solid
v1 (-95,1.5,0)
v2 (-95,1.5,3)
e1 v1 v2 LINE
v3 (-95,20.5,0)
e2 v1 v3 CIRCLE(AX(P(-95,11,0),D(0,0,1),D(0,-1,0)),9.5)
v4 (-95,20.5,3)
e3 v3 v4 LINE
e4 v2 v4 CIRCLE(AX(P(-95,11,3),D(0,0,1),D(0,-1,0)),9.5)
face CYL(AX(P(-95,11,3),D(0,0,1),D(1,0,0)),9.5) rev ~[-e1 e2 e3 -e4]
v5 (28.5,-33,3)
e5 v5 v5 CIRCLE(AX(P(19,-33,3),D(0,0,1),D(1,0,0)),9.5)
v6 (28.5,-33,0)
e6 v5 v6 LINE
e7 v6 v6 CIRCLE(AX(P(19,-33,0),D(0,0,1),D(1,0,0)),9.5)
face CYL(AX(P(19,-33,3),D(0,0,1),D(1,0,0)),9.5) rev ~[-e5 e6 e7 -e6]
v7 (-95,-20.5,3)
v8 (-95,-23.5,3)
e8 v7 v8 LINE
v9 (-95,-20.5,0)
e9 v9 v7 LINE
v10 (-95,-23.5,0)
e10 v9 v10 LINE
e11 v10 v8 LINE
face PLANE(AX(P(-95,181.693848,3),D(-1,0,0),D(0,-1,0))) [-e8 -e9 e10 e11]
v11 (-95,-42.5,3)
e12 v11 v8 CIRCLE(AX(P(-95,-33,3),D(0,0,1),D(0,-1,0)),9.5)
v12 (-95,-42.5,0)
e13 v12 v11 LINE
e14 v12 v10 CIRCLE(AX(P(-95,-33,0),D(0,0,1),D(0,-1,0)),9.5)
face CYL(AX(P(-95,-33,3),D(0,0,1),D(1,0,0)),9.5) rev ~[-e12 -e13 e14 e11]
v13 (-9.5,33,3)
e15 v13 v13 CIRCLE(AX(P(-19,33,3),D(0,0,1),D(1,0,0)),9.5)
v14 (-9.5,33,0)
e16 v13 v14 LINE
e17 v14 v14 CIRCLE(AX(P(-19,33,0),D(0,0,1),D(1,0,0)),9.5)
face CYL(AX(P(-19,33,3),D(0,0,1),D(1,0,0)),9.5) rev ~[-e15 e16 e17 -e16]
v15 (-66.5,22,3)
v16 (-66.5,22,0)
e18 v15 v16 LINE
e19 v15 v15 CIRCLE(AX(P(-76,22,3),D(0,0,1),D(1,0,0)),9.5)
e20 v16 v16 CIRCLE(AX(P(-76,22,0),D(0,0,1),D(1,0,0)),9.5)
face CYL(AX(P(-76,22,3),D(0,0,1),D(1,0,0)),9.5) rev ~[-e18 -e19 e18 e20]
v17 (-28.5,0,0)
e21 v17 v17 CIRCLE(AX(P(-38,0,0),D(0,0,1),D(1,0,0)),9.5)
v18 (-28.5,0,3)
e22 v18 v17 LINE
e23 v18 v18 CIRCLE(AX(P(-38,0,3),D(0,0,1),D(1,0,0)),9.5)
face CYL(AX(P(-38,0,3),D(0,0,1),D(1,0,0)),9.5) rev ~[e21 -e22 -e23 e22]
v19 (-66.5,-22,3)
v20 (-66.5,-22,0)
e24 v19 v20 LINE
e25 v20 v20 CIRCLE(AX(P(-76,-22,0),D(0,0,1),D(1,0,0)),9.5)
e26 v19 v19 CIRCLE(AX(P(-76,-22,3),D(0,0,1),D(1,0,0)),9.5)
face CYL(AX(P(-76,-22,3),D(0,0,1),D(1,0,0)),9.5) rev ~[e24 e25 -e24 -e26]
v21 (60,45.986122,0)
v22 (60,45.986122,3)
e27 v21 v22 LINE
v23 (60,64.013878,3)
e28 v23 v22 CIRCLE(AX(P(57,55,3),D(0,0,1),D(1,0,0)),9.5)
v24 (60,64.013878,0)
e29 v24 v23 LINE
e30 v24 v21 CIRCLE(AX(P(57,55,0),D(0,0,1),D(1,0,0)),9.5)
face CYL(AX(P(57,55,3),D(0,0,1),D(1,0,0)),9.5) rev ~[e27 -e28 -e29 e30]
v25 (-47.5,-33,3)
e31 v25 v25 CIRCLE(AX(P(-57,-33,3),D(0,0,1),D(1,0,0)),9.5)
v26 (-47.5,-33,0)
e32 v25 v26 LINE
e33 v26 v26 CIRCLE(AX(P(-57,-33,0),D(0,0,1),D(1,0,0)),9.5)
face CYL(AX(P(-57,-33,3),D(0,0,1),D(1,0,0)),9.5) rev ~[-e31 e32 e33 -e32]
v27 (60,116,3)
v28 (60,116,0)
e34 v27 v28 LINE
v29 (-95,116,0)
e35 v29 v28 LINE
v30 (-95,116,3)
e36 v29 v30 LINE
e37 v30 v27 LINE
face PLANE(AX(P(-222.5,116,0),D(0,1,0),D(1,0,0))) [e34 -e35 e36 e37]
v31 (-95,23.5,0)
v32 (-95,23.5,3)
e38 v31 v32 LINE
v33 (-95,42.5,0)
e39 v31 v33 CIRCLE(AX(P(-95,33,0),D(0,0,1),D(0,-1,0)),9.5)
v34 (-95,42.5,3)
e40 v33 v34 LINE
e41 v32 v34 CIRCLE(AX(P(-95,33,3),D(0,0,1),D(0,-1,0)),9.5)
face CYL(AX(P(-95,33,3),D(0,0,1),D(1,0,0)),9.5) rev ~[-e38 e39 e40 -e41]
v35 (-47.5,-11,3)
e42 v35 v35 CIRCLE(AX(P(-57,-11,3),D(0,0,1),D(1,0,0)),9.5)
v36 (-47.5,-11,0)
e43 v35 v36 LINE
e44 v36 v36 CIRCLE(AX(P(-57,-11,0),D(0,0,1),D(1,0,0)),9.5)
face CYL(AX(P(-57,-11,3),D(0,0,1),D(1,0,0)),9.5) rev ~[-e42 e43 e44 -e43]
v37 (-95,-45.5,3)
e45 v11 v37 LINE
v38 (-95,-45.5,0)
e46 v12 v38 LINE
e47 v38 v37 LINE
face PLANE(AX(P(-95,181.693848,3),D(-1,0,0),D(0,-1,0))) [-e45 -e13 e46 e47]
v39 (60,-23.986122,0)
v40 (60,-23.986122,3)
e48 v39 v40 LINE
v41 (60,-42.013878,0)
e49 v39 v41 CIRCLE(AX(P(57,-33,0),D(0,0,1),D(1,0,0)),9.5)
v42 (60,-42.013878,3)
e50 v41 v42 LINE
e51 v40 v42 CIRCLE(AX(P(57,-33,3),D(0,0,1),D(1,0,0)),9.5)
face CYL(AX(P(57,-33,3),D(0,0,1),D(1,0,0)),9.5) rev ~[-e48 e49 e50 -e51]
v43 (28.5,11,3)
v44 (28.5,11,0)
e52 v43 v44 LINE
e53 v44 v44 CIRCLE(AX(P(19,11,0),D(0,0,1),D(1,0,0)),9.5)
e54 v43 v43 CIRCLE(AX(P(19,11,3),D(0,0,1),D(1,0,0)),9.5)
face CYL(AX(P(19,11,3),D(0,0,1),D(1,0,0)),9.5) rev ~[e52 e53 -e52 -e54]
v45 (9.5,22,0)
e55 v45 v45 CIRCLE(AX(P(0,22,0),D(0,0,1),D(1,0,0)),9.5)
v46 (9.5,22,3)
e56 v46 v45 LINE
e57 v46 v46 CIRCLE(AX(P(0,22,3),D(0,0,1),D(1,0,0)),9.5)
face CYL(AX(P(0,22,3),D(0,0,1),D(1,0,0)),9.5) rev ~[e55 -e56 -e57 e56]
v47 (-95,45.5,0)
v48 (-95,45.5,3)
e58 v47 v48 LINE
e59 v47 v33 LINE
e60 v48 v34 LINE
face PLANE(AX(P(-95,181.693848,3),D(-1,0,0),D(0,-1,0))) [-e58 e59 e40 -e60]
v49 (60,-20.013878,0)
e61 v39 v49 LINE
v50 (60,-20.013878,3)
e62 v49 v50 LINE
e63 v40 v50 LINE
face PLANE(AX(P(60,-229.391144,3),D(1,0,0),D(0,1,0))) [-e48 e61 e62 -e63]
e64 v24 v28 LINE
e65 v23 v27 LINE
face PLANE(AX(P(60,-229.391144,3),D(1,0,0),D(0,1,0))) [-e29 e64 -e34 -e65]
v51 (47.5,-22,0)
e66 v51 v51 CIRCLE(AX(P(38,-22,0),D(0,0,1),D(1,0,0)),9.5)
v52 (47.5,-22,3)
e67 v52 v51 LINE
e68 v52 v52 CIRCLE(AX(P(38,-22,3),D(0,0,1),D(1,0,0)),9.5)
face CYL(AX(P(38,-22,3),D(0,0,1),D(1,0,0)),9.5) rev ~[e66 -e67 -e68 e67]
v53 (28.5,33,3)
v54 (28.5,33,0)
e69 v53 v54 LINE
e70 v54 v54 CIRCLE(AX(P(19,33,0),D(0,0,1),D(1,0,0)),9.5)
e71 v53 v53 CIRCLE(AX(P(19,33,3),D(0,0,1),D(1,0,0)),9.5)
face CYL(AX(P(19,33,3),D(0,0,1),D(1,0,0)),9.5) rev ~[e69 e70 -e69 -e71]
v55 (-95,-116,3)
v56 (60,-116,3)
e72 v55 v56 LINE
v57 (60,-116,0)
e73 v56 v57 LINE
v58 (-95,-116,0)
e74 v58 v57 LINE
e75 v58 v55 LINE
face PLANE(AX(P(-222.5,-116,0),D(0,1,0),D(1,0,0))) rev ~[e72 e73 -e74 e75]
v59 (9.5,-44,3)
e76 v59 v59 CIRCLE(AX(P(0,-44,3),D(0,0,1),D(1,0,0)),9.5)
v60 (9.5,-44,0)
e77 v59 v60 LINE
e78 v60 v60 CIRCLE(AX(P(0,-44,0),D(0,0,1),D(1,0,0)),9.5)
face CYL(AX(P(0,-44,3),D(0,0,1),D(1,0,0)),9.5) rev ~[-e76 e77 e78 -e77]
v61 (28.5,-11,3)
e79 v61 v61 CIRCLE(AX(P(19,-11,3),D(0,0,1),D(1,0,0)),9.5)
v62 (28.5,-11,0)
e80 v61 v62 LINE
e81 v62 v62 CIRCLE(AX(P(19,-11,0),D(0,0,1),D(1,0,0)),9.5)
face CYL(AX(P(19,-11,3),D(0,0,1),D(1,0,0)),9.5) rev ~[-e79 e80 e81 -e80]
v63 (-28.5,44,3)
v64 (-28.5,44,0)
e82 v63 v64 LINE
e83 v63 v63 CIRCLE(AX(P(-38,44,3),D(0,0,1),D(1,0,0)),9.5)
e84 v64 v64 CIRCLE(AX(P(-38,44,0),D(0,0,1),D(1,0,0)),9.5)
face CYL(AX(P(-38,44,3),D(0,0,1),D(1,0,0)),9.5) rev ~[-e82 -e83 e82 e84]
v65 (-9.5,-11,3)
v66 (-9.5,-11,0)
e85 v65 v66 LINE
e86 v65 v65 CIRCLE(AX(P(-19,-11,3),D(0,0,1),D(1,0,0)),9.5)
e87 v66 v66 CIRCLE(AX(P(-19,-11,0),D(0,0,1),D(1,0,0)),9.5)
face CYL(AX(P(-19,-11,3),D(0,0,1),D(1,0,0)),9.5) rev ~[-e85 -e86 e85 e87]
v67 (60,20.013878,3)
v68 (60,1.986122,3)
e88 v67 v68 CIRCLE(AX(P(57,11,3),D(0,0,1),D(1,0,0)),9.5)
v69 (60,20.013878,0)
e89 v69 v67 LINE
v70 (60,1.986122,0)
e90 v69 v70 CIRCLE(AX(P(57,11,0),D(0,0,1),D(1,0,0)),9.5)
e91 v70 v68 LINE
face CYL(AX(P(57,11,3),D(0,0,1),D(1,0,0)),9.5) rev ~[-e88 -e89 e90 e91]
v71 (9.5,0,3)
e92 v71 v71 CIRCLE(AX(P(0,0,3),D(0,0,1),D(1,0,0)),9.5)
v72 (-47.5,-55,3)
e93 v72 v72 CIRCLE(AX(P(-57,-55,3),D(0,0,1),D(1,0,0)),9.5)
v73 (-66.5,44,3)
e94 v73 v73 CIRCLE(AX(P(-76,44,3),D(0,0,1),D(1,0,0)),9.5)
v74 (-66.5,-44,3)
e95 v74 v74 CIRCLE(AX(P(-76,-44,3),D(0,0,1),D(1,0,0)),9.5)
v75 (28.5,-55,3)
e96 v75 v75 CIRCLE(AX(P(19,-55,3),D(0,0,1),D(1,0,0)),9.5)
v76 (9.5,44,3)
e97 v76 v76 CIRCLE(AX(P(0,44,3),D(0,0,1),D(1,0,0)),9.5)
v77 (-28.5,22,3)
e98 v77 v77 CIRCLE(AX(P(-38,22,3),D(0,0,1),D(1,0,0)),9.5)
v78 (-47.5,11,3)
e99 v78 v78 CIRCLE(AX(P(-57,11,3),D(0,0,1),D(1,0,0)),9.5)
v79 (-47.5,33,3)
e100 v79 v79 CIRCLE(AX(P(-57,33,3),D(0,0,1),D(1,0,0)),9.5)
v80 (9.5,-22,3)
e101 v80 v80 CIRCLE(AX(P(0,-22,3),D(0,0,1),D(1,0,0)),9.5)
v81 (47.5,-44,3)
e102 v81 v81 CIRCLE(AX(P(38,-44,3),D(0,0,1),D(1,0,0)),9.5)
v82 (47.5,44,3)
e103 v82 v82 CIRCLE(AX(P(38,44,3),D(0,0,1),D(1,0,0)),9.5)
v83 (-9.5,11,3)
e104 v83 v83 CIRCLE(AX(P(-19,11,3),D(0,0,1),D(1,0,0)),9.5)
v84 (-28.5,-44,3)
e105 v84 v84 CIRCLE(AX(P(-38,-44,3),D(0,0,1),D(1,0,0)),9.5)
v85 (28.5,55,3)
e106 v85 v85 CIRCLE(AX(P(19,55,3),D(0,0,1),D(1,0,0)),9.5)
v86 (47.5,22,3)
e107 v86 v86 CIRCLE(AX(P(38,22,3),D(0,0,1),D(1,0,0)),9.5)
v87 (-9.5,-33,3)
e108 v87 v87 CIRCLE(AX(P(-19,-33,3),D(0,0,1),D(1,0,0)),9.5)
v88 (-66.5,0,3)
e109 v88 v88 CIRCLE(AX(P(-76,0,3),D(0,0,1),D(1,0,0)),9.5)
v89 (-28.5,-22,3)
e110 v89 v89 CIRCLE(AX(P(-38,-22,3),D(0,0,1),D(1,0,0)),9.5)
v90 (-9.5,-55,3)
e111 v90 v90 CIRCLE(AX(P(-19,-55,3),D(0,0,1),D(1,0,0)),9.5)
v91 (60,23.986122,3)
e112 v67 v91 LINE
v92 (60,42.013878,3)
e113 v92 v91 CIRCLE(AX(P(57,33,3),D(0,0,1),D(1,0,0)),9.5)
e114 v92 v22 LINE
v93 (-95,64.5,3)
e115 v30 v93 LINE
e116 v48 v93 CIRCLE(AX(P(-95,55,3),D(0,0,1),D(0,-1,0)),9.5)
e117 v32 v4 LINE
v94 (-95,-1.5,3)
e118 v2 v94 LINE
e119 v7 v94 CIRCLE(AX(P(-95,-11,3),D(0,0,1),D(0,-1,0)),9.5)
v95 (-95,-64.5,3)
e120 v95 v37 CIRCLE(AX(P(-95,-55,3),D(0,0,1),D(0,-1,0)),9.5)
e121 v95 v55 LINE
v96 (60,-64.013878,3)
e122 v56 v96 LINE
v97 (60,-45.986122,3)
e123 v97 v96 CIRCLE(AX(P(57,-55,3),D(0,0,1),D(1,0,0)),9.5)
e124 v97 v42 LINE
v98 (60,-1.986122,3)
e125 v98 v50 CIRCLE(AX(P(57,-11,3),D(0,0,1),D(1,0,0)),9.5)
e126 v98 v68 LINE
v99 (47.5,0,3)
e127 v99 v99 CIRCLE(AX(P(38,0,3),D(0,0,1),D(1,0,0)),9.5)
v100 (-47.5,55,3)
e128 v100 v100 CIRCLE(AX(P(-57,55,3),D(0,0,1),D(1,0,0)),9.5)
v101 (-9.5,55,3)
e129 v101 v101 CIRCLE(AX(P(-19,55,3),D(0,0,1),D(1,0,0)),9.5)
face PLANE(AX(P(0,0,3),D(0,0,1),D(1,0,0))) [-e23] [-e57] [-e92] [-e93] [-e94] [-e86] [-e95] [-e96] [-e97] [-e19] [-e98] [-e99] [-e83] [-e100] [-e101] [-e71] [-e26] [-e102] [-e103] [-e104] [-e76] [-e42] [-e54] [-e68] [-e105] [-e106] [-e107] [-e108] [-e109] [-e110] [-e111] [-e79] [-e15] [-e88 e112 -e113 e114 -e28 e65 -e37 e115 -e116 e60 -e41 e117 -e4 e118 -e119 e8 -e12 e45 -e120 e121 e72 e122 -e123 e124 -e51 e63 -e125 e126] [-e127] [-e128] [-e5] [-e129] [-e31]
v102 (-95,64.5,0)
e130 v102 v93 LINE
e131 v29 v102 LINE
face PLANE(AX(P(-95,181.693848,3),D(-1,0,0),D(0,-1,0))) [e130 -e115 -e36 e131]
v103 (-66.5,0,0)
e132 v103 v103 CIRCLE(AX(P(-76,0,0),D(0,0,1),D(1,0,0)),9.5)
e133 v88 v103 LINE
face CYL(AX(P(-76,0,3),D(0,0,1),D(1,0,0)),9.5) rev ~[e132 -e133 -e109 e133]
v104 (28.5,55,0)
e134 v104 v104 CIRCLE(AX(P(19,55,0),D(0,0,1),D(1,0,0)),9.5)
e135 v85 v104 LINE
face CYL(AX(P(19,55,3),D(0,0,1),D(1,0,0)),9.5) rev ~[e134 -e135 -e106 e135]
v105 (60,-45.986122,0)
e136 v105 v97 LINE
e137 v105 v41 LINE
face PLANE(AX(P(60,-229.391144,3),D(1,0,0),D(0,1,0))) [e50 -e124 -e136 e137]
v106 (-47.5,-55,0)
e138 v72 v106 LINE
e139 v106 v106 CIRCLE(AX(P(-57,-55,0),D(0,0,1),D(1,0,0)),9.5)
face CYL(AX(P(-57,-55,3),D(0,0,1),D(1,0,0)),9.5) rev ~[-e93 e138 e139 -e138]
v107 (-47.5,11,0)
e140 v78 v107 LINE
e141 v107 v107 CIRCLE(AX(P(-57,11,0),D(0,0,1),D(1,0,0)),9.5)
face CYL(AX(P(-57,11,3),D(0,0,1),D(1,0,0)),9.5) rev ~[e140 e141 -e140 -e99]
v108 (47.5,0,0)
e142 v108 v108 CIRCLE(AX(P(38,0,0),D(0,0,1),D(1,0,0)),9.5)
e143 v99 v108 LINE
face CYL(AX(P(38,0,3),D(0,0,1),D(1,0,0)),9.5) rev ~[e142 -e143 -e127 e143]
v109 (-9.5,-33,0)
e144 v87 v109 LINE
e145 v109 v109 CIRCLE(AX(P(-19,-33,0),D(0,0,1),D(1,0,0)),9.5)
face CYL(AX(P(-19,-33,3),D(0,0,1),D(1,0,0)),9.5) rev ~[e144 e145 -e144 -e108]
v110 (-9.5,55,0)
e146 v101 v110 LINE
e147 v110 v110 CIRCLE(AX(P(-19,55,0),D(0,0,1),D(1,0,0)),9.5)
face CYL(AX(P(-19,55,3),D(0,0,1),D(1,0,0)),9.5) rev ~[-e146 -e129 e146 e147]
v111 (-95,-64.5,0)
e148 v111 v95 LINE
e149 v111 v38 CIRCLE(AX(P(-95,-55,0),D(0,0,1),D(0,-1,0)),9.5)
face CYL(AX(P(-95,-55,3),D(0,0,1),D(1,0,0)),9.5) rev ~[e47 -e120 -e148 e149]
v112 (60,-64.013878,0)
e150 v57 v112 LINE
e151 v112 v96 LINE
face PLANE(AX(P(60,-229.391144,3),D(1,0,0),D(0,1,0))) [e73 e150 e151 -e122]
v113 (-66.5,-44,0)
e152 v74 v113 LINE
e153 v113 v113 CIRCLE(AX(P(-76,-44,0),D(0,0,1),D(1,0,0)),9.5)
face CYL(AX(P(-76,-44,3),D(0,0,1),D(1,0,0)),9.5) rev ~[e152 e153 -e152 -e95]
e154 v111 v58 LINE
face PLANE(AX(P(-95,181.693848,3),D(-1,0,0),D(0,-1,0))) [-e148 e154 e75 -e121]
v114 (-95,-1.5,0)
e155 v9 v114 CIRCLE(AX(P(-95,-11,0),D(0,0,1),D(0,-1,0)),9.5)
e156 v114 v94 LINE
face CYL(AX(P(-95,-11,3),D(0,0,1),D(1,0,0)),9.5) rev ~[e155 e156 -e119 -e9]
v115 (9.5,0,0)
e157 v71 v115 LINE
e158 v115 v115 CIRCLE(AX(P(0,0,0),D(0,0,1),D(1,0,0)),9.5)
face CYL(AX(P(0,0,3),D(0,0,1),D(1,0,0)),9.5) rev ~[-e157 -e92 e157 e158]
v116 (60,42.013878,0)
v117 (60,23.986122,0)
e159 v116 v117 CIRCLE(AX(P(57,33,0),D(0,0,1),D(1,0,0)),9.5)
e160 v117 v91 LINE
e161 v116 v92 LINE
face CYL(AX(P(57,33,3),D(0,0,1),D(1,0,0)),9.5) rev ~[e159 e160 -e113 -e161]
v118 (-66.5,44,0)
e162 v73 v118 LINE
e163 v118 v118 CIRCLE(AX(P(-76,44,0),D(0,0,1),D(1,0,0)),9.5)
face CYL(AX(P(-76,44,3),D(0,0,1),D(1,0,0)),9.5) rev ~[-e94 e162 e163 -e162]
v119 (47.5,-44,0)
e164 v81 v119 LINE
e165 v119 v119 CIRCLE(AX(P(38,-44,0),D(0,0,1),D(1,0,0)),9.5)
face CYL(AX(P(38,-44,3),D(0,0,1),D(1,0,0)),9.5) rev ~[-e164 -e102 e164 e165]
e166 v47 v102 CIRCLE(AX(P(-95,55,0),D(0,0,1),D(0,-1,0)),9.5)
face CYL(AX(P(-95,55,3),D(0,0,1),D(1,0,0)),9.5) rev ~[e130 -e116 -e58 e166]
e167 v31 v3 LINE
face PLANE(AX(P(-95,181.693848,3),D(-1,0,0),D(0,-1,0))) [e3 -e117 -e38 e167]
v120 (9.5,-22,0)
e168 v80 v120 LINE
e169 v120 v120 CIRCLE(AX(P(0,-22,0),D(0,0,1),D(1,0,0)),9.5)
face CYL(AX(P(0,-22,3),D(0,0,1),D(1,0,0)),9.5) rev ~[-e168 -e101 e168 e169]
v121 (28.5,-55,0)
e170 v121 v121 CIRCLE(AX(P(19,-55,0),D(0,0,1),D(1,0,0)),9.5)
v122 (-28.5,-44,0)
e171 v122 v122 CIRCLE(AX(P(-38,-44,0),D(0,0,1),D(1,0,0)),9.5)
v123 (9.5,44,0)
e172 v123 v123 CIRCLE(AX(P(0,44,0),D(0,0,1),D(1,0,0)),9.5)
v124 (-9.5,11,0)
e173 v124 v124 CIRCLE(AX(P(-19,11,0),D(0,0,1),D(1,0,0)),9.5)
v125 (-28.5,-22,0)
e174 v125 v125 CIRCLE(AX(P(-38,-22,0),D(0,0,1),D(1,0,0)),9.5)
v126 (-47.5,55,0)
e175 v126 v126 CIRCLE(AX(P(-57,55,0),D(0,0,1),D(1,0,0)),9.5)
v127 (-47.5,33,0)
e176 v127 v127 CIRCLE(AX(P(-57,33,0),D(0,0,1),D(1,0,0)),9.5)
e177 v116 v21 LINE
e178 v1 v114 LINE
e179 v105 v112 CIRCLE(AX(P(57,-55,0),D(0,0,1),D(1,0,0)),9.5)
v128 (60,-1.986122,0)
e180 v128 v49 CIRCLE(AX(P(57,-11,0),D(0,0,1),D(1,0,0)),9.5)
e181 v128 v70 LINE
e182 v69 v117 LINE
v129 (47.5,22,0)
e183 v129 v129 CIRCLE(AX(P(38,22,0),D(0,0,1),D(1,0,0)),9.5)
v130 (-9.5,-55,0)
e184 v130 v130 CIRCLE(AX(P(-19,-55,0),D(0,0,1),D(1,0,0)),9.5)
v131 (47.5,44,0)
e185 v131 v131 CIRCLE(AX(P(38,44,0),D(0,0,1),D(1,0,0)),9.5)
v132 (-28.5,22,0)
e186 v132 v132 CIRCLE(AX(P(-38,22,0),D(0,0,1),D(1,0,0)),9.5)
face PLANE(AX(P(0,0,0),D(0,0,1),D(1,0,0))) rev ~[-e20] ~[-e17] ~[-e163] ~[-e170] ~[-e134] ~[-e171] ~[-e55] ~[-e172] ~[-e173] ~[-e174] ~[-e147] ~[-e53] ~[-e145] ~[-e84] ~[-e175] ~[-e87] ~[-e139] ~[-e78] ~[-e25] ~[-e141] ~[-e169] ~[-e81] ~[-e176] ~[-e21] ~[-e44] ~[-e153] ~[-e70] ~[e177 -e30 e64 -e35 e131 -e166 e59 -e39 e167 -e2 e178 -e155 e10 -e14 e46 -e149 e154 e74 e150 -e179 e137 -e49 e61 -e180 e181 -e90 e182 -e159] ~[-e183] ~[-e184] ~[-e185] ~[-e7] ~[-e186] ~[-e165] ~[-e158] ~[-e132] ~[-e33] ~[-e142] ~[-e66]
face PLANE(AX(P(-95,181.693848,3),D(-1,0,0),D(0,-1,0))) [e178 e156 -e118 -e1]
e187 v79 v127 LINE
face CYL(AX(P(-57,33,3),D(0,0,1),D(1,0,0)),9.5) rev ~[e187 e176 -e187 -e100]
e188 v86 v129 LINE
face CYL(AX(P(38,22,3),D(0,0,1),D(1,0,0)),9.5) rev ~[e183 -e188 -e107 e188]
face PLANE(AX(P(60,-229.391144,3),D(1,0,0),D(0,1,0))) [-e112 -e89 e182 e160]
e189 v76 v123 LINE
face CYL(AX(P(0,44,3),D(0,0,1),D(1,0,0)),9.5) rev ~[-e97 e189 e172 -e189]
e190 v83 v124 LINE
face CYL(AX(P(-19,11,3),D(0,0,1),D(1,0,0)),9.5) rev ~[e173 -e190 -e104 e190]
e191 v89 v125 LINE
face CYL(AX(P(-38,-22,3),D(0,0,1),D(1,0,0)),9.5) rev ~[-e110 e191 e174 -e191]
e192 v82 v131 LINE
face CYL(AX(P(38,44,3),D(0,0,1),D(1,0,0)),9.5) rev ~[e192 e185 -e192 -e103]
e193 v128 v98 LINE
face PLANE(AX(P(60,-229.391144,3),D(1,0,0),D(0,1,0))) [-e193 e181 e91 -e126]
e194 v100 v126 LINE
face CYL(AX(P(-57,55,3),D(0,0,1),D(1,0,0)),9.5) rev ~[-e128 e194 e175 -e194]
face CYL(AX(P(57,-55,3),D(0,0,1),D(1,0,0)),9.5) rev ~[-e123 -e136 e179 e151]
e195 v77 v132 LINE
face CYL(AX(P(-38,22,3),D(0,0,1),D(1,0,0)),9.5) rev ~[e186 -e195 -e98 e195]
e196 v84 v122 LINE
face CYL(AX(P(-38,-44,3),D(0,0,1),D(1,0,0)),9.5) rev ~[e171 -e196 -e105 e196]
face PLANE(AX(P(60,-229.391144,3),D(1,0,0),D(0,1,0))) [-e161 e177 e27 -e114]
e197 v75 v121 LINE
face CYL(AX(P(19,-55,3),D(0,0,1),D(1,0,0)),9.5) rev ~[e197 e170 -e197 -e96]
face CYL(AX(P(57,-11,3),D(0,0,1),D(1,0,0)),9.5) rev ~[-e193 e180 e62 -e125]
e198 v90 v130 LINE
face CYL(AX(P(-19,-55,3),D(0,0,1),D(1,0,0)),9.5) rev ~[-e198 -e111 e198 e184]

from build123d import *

# Parameters (mm, degrees)
SKETCH061_W     = 445
SKETCH061_H     = 232
PAD023_DEPTH    = 3
SKETCH062_R     = 9.5
POCKET038_DEPTH = 5
FILLET008_R     = 2
SKETCH063_R     = 7
POCKET039_DEPTH = 10.001
POCKET052_DEPTH = 5


with BuildPart() as part:
    # Sketch061 → Pad023 (new body)
    with BuildSketch(Plane.XY):
        Rectangle(SKETCH061_W, SKETCH061_H)
    extrude(amount=PAD023_DEPTH)

    # Sketch062 (on Face6 of Pad023) → Pocket038 (cut)
    with BuildSketch(Plane.XY.offset(3)):
        with Locations((-171, 55)):
            Circle(SKETCH062_R)
        with Locations((-171, 33)):
            Circle(SKETCH062_R)
        with Locations((-171, 11)):
            Circle(SKETCH062_R)
        with Locations((-171, -11)):
            Circle(SKETCH062_R)
        with Locations((-171, -33)):
            Circle(SKETCH062_R)
        with Locations((-171, -55)):
            Circle(SKETCH062_R)
        with Locations((-152, 44)):
            Circle(SKETCH062_R)
        with Locations((-152, 22)):
            Circle(SKETCH062_R)
        with Locations((-152, 0)):
            Circle(SKETCH062_R)
        with Locations((-152, -22)):
            Circle(SKETCH062_R)
        with Locations((-152, -44)):
            Circle(SKETCH062_R)
        with Locations((-133, 55)):
            Circle(SKETCH062_R)
        with Locations((-133, 33)):
            Circle(SKETCH062_R)
        with Locations((-133, 11)):
            Circle(SKETCH062_R)
        with Locations((-133, -11)):
            Circle(SKETCH062_R)
        with Locations((-133, -33)):
            Circle(SKETCH062_R)
        with Locations((-133, -55)):
            Circle(SKETCH062_R)
        with Locations((-114, 44)):
            Circle(SKETCH062_R)
        with Locations((-114, 22)):
            Circle(SKETCH062_R)
        with Locations((-114, 0)):
            Circle(SKETCH062_R)
        with Locations((-114, -22)):
            Circle(SKETCH062_R)
        with Locations((-114, -44)):
            Circle(SKETCH062_R)
        with Locations((-95, 55)):
            Circle(SKETCH062_R)
        with Locations((-95, 33)):
            Circle(SKETCH062_R)
        with Locations((-95, 11)):
            Circle(SKETCH062_R)
        with Locations((-95, -11)):
            Circle(SKETCH062_R)
        with Locations((-95, -33)):
            Circle(SKETCH062_R)
        with Locations((-95, -55)):
            Circle(SKETCH062_R)
        with Locations((-76, -44)):
            Circle(SKETCH062_R)
        with Locations((-76, -22)):
            Circle(SKETCH062_R)
        with Locations((-76, 0)):
            Circle(SKETCH062_R)
        with Locations((-76, 22)):
            Circle(SKETCH062_R)
        with Locations((-76, 44)):
            Circle(SKETCH062_R)
        with Locations((-57, 55)):
            Circle(SKETCH062_R)
        with Locations((-57, 33)):
            Circle(SKETCH062_R)
        with Locations((-57, 11)):
            Circle(SKETCH062_R)
        with Locations((-57, -11)):
            Circle(SKETCH062_R)
        with Locations((-57, -33)):
            Circle(SKETCH062_R)
        with Locations((-38, 44)):
            Circle(SKETCH062_R)
        with Locations((-38, 22)):
            Circle(SKETCH062_R)
        with Locations((-38, 0)):
            Circle(SKETCH062_R)
        with Locations((-38, -22)):
            Circle(SKETCH062_R)
        with Locations((-38, -44)):
            Circle(SKETCH062_R)
        with Locations((-57, -55)):
            Circle(SKETCH062_R)
        with Locations((-19, 55)):
            Circle(SKETCH062_R)
        with Locations((-19, 33)):
            Circle(SKETCH062_R)
        with Locations((-19, 11)):
            Circle(SKETCH062_R)
        with Locations((-19, -11)):
            Circle(SKETCH062_R)
        with Locations((-19, -33)):
            Circle(SKETCH062_R)
        with Locations((-19, -55)):
            Circle(SKETCH062_R)
        with Locations((0, -44)):
            Circle(SKETCH062_R)
        with Locations((0, -22)):
            Circle(SKETCH062_R)
        Circle(SKETCH062_R)
        with Locations((0, 22)):
            Circle(SKETCH062_R)
        with Locations((0, 44)):
            Circle(SKETCH062_R)
        with Locations((19, 55)):
            Circle(SKETCH062_R)
        with Locations((19, 33)):
            Circle(SKETCH062_R)
        with Locations((19, 11)):
            Circle(SKETCH062_R)
        with Locations((19, -11)):
            Circle(SKETCH062_R)
        with Locations((19, -33)):
            Circle(SKETCH062_R)
        with Locations((19, -55)):
            Circle(SKETCH062_R)
        with Locations((38, -44)):
            Circle(SKETCH062_R)
        with Locations((38, -22)):
            Circle(SKETCH062_R)
        with Locations((38, 0)):
            Circle(SKETCH062_R)
        with Locations((38, 22)):
            Circle(SKETCH062_R)
        with Locations((38, 44)):
            Circle(SKETCH062_R)
        with Locations((57, 55)):
            Circle(SKETCH062_R)
        with Locations((57, 33)):
            Circle(SKETCH062_R)
        with Locations((57, 11)):
            Circle(SKETCH062_R)
        with Locations((57, -11)):
            Circle(SKETCH062_R)
        with Locations((76, 0)):
            Circle(SKETCH062_R)
        with Locations((76, 22)):
            Circle(SKETCH062_R)
        with Locations((76, 44)):
            Circle(SKETCH062_R)
        with Locations((57, -33)):
            Circle(SKETCH062_R)
        with Locations((57, -55)):
            Circle(SKETCH062_R)
        with Locations((76, -44)):
            Circle(SKETCH062_R)
        with Locations((76, -22)):
            Circle(SKETCH062_R)
        with Locations((95, 55)):
            Circle(SKETCH062_R)
        with Locations((95, 33)):
            Circle(SKETCH062_R)
        with Locations((95, 11)):
            Circle(SKETCH062_R)
        with Locations((95, -11)):
            Circle(SKETCH062_R)
        with Locations((95, -33)):
            Circle(SKETCH062_R)
        with Locations((95, -55)):
            Circle(SKETCH062_R)
        with Locations((114, 44)):
            Circle(SKETCH062_R)
        with Locations((114, 22)):
            Circle(SKETCH062_R)
        with Locations((114, 0)):
            Circle(SKETCH062_R)
        with Locations((114, -22)):
            Circle(SKETCH062_R)
        with Locations((114, -44)):
            Circle(SKETCH062_R)
        with Locations((133, 55)):
            Circle(SKETCH062_R)
        with Locations((133, 33)):
            Circle(SKETCH062_R)
        with Locations((133, 11)):
            Circle(SKETCH062_R)
        with Locations((133, -11)):
            Circle(SKETCH062_R)
        with Locations((133, -33)):
            Circle(SKETCH062_R)
        with Locations((133, -55)):
            Circle(SKETCH062_R)
        with Locations((152, 44)):
            Circle(SKETCH062_R)
        with Locations((152, 22)):
            Circle(SKETCH062_R)
        with Locations((152, 0)):
            Circle(SKETCH062_R)
        with Locations((152, -22)):
            Circle(SKETCH062_R)
        with Locations((152, -44)):
            Circle(SKETCH062_R)
        with Locations((171, 55)):
            Circle(SKETCH062_R)
        with Locations((171, 33)):
            Circle(SKETCH062_R)
        with Locations((171, 11)):
            Circle(SKETCH062_R)
        with Locations((171, -11)):
            Circle(SKETCH062_R)
        with Locations((171, -33)):
            Circle(SKETCH062_R)
        with Locations((171, -55)):
            Circle(SKETCH062_R)
    extrude(amount=-POCKET038_DEPTH, mode=Mode.SUBTRACT)

    # Fillet008
    fillet008_edges = [part.edges().sort_by_distance(p)[0] for p in [
        (-222.5, -116, 1.5),
        (222.5, -116, 1.5),
        (222.5, 116, 1.5),
        (-222.5, 116, 1.5),
    ]]
    fillet(fillet008_edges, radius=FILLET008_R)

    # Sketch063 → Pocket039 (cut, through all)
    with BuildSketch(Plane.XY.offset(10)):
        with Locations((197.939534, 0)):
            Circle(SKETCH063_R)
    extrude(amount=-POCKET039_DEPTH, mode=Mode.SUBTRACT)

    # Sketch080 (on Face5 of Pocket039) → Pocket052 (cut)
    with BuildSketch(Plane.XY.offset(3)):
        Polygon((-295.981628, 170.85997), (-95, 181.693848), (-95, -229.391144), (60, -229.391144), (60, 193.129593), (437.109833, 193.129593), (437.109833, -331.1091), (-295.981628, -331.1091), align=None)
    extrude(amount=-POCKET052_DEPTH, mode=Mode.SUBTRACT)


solid = part.part
